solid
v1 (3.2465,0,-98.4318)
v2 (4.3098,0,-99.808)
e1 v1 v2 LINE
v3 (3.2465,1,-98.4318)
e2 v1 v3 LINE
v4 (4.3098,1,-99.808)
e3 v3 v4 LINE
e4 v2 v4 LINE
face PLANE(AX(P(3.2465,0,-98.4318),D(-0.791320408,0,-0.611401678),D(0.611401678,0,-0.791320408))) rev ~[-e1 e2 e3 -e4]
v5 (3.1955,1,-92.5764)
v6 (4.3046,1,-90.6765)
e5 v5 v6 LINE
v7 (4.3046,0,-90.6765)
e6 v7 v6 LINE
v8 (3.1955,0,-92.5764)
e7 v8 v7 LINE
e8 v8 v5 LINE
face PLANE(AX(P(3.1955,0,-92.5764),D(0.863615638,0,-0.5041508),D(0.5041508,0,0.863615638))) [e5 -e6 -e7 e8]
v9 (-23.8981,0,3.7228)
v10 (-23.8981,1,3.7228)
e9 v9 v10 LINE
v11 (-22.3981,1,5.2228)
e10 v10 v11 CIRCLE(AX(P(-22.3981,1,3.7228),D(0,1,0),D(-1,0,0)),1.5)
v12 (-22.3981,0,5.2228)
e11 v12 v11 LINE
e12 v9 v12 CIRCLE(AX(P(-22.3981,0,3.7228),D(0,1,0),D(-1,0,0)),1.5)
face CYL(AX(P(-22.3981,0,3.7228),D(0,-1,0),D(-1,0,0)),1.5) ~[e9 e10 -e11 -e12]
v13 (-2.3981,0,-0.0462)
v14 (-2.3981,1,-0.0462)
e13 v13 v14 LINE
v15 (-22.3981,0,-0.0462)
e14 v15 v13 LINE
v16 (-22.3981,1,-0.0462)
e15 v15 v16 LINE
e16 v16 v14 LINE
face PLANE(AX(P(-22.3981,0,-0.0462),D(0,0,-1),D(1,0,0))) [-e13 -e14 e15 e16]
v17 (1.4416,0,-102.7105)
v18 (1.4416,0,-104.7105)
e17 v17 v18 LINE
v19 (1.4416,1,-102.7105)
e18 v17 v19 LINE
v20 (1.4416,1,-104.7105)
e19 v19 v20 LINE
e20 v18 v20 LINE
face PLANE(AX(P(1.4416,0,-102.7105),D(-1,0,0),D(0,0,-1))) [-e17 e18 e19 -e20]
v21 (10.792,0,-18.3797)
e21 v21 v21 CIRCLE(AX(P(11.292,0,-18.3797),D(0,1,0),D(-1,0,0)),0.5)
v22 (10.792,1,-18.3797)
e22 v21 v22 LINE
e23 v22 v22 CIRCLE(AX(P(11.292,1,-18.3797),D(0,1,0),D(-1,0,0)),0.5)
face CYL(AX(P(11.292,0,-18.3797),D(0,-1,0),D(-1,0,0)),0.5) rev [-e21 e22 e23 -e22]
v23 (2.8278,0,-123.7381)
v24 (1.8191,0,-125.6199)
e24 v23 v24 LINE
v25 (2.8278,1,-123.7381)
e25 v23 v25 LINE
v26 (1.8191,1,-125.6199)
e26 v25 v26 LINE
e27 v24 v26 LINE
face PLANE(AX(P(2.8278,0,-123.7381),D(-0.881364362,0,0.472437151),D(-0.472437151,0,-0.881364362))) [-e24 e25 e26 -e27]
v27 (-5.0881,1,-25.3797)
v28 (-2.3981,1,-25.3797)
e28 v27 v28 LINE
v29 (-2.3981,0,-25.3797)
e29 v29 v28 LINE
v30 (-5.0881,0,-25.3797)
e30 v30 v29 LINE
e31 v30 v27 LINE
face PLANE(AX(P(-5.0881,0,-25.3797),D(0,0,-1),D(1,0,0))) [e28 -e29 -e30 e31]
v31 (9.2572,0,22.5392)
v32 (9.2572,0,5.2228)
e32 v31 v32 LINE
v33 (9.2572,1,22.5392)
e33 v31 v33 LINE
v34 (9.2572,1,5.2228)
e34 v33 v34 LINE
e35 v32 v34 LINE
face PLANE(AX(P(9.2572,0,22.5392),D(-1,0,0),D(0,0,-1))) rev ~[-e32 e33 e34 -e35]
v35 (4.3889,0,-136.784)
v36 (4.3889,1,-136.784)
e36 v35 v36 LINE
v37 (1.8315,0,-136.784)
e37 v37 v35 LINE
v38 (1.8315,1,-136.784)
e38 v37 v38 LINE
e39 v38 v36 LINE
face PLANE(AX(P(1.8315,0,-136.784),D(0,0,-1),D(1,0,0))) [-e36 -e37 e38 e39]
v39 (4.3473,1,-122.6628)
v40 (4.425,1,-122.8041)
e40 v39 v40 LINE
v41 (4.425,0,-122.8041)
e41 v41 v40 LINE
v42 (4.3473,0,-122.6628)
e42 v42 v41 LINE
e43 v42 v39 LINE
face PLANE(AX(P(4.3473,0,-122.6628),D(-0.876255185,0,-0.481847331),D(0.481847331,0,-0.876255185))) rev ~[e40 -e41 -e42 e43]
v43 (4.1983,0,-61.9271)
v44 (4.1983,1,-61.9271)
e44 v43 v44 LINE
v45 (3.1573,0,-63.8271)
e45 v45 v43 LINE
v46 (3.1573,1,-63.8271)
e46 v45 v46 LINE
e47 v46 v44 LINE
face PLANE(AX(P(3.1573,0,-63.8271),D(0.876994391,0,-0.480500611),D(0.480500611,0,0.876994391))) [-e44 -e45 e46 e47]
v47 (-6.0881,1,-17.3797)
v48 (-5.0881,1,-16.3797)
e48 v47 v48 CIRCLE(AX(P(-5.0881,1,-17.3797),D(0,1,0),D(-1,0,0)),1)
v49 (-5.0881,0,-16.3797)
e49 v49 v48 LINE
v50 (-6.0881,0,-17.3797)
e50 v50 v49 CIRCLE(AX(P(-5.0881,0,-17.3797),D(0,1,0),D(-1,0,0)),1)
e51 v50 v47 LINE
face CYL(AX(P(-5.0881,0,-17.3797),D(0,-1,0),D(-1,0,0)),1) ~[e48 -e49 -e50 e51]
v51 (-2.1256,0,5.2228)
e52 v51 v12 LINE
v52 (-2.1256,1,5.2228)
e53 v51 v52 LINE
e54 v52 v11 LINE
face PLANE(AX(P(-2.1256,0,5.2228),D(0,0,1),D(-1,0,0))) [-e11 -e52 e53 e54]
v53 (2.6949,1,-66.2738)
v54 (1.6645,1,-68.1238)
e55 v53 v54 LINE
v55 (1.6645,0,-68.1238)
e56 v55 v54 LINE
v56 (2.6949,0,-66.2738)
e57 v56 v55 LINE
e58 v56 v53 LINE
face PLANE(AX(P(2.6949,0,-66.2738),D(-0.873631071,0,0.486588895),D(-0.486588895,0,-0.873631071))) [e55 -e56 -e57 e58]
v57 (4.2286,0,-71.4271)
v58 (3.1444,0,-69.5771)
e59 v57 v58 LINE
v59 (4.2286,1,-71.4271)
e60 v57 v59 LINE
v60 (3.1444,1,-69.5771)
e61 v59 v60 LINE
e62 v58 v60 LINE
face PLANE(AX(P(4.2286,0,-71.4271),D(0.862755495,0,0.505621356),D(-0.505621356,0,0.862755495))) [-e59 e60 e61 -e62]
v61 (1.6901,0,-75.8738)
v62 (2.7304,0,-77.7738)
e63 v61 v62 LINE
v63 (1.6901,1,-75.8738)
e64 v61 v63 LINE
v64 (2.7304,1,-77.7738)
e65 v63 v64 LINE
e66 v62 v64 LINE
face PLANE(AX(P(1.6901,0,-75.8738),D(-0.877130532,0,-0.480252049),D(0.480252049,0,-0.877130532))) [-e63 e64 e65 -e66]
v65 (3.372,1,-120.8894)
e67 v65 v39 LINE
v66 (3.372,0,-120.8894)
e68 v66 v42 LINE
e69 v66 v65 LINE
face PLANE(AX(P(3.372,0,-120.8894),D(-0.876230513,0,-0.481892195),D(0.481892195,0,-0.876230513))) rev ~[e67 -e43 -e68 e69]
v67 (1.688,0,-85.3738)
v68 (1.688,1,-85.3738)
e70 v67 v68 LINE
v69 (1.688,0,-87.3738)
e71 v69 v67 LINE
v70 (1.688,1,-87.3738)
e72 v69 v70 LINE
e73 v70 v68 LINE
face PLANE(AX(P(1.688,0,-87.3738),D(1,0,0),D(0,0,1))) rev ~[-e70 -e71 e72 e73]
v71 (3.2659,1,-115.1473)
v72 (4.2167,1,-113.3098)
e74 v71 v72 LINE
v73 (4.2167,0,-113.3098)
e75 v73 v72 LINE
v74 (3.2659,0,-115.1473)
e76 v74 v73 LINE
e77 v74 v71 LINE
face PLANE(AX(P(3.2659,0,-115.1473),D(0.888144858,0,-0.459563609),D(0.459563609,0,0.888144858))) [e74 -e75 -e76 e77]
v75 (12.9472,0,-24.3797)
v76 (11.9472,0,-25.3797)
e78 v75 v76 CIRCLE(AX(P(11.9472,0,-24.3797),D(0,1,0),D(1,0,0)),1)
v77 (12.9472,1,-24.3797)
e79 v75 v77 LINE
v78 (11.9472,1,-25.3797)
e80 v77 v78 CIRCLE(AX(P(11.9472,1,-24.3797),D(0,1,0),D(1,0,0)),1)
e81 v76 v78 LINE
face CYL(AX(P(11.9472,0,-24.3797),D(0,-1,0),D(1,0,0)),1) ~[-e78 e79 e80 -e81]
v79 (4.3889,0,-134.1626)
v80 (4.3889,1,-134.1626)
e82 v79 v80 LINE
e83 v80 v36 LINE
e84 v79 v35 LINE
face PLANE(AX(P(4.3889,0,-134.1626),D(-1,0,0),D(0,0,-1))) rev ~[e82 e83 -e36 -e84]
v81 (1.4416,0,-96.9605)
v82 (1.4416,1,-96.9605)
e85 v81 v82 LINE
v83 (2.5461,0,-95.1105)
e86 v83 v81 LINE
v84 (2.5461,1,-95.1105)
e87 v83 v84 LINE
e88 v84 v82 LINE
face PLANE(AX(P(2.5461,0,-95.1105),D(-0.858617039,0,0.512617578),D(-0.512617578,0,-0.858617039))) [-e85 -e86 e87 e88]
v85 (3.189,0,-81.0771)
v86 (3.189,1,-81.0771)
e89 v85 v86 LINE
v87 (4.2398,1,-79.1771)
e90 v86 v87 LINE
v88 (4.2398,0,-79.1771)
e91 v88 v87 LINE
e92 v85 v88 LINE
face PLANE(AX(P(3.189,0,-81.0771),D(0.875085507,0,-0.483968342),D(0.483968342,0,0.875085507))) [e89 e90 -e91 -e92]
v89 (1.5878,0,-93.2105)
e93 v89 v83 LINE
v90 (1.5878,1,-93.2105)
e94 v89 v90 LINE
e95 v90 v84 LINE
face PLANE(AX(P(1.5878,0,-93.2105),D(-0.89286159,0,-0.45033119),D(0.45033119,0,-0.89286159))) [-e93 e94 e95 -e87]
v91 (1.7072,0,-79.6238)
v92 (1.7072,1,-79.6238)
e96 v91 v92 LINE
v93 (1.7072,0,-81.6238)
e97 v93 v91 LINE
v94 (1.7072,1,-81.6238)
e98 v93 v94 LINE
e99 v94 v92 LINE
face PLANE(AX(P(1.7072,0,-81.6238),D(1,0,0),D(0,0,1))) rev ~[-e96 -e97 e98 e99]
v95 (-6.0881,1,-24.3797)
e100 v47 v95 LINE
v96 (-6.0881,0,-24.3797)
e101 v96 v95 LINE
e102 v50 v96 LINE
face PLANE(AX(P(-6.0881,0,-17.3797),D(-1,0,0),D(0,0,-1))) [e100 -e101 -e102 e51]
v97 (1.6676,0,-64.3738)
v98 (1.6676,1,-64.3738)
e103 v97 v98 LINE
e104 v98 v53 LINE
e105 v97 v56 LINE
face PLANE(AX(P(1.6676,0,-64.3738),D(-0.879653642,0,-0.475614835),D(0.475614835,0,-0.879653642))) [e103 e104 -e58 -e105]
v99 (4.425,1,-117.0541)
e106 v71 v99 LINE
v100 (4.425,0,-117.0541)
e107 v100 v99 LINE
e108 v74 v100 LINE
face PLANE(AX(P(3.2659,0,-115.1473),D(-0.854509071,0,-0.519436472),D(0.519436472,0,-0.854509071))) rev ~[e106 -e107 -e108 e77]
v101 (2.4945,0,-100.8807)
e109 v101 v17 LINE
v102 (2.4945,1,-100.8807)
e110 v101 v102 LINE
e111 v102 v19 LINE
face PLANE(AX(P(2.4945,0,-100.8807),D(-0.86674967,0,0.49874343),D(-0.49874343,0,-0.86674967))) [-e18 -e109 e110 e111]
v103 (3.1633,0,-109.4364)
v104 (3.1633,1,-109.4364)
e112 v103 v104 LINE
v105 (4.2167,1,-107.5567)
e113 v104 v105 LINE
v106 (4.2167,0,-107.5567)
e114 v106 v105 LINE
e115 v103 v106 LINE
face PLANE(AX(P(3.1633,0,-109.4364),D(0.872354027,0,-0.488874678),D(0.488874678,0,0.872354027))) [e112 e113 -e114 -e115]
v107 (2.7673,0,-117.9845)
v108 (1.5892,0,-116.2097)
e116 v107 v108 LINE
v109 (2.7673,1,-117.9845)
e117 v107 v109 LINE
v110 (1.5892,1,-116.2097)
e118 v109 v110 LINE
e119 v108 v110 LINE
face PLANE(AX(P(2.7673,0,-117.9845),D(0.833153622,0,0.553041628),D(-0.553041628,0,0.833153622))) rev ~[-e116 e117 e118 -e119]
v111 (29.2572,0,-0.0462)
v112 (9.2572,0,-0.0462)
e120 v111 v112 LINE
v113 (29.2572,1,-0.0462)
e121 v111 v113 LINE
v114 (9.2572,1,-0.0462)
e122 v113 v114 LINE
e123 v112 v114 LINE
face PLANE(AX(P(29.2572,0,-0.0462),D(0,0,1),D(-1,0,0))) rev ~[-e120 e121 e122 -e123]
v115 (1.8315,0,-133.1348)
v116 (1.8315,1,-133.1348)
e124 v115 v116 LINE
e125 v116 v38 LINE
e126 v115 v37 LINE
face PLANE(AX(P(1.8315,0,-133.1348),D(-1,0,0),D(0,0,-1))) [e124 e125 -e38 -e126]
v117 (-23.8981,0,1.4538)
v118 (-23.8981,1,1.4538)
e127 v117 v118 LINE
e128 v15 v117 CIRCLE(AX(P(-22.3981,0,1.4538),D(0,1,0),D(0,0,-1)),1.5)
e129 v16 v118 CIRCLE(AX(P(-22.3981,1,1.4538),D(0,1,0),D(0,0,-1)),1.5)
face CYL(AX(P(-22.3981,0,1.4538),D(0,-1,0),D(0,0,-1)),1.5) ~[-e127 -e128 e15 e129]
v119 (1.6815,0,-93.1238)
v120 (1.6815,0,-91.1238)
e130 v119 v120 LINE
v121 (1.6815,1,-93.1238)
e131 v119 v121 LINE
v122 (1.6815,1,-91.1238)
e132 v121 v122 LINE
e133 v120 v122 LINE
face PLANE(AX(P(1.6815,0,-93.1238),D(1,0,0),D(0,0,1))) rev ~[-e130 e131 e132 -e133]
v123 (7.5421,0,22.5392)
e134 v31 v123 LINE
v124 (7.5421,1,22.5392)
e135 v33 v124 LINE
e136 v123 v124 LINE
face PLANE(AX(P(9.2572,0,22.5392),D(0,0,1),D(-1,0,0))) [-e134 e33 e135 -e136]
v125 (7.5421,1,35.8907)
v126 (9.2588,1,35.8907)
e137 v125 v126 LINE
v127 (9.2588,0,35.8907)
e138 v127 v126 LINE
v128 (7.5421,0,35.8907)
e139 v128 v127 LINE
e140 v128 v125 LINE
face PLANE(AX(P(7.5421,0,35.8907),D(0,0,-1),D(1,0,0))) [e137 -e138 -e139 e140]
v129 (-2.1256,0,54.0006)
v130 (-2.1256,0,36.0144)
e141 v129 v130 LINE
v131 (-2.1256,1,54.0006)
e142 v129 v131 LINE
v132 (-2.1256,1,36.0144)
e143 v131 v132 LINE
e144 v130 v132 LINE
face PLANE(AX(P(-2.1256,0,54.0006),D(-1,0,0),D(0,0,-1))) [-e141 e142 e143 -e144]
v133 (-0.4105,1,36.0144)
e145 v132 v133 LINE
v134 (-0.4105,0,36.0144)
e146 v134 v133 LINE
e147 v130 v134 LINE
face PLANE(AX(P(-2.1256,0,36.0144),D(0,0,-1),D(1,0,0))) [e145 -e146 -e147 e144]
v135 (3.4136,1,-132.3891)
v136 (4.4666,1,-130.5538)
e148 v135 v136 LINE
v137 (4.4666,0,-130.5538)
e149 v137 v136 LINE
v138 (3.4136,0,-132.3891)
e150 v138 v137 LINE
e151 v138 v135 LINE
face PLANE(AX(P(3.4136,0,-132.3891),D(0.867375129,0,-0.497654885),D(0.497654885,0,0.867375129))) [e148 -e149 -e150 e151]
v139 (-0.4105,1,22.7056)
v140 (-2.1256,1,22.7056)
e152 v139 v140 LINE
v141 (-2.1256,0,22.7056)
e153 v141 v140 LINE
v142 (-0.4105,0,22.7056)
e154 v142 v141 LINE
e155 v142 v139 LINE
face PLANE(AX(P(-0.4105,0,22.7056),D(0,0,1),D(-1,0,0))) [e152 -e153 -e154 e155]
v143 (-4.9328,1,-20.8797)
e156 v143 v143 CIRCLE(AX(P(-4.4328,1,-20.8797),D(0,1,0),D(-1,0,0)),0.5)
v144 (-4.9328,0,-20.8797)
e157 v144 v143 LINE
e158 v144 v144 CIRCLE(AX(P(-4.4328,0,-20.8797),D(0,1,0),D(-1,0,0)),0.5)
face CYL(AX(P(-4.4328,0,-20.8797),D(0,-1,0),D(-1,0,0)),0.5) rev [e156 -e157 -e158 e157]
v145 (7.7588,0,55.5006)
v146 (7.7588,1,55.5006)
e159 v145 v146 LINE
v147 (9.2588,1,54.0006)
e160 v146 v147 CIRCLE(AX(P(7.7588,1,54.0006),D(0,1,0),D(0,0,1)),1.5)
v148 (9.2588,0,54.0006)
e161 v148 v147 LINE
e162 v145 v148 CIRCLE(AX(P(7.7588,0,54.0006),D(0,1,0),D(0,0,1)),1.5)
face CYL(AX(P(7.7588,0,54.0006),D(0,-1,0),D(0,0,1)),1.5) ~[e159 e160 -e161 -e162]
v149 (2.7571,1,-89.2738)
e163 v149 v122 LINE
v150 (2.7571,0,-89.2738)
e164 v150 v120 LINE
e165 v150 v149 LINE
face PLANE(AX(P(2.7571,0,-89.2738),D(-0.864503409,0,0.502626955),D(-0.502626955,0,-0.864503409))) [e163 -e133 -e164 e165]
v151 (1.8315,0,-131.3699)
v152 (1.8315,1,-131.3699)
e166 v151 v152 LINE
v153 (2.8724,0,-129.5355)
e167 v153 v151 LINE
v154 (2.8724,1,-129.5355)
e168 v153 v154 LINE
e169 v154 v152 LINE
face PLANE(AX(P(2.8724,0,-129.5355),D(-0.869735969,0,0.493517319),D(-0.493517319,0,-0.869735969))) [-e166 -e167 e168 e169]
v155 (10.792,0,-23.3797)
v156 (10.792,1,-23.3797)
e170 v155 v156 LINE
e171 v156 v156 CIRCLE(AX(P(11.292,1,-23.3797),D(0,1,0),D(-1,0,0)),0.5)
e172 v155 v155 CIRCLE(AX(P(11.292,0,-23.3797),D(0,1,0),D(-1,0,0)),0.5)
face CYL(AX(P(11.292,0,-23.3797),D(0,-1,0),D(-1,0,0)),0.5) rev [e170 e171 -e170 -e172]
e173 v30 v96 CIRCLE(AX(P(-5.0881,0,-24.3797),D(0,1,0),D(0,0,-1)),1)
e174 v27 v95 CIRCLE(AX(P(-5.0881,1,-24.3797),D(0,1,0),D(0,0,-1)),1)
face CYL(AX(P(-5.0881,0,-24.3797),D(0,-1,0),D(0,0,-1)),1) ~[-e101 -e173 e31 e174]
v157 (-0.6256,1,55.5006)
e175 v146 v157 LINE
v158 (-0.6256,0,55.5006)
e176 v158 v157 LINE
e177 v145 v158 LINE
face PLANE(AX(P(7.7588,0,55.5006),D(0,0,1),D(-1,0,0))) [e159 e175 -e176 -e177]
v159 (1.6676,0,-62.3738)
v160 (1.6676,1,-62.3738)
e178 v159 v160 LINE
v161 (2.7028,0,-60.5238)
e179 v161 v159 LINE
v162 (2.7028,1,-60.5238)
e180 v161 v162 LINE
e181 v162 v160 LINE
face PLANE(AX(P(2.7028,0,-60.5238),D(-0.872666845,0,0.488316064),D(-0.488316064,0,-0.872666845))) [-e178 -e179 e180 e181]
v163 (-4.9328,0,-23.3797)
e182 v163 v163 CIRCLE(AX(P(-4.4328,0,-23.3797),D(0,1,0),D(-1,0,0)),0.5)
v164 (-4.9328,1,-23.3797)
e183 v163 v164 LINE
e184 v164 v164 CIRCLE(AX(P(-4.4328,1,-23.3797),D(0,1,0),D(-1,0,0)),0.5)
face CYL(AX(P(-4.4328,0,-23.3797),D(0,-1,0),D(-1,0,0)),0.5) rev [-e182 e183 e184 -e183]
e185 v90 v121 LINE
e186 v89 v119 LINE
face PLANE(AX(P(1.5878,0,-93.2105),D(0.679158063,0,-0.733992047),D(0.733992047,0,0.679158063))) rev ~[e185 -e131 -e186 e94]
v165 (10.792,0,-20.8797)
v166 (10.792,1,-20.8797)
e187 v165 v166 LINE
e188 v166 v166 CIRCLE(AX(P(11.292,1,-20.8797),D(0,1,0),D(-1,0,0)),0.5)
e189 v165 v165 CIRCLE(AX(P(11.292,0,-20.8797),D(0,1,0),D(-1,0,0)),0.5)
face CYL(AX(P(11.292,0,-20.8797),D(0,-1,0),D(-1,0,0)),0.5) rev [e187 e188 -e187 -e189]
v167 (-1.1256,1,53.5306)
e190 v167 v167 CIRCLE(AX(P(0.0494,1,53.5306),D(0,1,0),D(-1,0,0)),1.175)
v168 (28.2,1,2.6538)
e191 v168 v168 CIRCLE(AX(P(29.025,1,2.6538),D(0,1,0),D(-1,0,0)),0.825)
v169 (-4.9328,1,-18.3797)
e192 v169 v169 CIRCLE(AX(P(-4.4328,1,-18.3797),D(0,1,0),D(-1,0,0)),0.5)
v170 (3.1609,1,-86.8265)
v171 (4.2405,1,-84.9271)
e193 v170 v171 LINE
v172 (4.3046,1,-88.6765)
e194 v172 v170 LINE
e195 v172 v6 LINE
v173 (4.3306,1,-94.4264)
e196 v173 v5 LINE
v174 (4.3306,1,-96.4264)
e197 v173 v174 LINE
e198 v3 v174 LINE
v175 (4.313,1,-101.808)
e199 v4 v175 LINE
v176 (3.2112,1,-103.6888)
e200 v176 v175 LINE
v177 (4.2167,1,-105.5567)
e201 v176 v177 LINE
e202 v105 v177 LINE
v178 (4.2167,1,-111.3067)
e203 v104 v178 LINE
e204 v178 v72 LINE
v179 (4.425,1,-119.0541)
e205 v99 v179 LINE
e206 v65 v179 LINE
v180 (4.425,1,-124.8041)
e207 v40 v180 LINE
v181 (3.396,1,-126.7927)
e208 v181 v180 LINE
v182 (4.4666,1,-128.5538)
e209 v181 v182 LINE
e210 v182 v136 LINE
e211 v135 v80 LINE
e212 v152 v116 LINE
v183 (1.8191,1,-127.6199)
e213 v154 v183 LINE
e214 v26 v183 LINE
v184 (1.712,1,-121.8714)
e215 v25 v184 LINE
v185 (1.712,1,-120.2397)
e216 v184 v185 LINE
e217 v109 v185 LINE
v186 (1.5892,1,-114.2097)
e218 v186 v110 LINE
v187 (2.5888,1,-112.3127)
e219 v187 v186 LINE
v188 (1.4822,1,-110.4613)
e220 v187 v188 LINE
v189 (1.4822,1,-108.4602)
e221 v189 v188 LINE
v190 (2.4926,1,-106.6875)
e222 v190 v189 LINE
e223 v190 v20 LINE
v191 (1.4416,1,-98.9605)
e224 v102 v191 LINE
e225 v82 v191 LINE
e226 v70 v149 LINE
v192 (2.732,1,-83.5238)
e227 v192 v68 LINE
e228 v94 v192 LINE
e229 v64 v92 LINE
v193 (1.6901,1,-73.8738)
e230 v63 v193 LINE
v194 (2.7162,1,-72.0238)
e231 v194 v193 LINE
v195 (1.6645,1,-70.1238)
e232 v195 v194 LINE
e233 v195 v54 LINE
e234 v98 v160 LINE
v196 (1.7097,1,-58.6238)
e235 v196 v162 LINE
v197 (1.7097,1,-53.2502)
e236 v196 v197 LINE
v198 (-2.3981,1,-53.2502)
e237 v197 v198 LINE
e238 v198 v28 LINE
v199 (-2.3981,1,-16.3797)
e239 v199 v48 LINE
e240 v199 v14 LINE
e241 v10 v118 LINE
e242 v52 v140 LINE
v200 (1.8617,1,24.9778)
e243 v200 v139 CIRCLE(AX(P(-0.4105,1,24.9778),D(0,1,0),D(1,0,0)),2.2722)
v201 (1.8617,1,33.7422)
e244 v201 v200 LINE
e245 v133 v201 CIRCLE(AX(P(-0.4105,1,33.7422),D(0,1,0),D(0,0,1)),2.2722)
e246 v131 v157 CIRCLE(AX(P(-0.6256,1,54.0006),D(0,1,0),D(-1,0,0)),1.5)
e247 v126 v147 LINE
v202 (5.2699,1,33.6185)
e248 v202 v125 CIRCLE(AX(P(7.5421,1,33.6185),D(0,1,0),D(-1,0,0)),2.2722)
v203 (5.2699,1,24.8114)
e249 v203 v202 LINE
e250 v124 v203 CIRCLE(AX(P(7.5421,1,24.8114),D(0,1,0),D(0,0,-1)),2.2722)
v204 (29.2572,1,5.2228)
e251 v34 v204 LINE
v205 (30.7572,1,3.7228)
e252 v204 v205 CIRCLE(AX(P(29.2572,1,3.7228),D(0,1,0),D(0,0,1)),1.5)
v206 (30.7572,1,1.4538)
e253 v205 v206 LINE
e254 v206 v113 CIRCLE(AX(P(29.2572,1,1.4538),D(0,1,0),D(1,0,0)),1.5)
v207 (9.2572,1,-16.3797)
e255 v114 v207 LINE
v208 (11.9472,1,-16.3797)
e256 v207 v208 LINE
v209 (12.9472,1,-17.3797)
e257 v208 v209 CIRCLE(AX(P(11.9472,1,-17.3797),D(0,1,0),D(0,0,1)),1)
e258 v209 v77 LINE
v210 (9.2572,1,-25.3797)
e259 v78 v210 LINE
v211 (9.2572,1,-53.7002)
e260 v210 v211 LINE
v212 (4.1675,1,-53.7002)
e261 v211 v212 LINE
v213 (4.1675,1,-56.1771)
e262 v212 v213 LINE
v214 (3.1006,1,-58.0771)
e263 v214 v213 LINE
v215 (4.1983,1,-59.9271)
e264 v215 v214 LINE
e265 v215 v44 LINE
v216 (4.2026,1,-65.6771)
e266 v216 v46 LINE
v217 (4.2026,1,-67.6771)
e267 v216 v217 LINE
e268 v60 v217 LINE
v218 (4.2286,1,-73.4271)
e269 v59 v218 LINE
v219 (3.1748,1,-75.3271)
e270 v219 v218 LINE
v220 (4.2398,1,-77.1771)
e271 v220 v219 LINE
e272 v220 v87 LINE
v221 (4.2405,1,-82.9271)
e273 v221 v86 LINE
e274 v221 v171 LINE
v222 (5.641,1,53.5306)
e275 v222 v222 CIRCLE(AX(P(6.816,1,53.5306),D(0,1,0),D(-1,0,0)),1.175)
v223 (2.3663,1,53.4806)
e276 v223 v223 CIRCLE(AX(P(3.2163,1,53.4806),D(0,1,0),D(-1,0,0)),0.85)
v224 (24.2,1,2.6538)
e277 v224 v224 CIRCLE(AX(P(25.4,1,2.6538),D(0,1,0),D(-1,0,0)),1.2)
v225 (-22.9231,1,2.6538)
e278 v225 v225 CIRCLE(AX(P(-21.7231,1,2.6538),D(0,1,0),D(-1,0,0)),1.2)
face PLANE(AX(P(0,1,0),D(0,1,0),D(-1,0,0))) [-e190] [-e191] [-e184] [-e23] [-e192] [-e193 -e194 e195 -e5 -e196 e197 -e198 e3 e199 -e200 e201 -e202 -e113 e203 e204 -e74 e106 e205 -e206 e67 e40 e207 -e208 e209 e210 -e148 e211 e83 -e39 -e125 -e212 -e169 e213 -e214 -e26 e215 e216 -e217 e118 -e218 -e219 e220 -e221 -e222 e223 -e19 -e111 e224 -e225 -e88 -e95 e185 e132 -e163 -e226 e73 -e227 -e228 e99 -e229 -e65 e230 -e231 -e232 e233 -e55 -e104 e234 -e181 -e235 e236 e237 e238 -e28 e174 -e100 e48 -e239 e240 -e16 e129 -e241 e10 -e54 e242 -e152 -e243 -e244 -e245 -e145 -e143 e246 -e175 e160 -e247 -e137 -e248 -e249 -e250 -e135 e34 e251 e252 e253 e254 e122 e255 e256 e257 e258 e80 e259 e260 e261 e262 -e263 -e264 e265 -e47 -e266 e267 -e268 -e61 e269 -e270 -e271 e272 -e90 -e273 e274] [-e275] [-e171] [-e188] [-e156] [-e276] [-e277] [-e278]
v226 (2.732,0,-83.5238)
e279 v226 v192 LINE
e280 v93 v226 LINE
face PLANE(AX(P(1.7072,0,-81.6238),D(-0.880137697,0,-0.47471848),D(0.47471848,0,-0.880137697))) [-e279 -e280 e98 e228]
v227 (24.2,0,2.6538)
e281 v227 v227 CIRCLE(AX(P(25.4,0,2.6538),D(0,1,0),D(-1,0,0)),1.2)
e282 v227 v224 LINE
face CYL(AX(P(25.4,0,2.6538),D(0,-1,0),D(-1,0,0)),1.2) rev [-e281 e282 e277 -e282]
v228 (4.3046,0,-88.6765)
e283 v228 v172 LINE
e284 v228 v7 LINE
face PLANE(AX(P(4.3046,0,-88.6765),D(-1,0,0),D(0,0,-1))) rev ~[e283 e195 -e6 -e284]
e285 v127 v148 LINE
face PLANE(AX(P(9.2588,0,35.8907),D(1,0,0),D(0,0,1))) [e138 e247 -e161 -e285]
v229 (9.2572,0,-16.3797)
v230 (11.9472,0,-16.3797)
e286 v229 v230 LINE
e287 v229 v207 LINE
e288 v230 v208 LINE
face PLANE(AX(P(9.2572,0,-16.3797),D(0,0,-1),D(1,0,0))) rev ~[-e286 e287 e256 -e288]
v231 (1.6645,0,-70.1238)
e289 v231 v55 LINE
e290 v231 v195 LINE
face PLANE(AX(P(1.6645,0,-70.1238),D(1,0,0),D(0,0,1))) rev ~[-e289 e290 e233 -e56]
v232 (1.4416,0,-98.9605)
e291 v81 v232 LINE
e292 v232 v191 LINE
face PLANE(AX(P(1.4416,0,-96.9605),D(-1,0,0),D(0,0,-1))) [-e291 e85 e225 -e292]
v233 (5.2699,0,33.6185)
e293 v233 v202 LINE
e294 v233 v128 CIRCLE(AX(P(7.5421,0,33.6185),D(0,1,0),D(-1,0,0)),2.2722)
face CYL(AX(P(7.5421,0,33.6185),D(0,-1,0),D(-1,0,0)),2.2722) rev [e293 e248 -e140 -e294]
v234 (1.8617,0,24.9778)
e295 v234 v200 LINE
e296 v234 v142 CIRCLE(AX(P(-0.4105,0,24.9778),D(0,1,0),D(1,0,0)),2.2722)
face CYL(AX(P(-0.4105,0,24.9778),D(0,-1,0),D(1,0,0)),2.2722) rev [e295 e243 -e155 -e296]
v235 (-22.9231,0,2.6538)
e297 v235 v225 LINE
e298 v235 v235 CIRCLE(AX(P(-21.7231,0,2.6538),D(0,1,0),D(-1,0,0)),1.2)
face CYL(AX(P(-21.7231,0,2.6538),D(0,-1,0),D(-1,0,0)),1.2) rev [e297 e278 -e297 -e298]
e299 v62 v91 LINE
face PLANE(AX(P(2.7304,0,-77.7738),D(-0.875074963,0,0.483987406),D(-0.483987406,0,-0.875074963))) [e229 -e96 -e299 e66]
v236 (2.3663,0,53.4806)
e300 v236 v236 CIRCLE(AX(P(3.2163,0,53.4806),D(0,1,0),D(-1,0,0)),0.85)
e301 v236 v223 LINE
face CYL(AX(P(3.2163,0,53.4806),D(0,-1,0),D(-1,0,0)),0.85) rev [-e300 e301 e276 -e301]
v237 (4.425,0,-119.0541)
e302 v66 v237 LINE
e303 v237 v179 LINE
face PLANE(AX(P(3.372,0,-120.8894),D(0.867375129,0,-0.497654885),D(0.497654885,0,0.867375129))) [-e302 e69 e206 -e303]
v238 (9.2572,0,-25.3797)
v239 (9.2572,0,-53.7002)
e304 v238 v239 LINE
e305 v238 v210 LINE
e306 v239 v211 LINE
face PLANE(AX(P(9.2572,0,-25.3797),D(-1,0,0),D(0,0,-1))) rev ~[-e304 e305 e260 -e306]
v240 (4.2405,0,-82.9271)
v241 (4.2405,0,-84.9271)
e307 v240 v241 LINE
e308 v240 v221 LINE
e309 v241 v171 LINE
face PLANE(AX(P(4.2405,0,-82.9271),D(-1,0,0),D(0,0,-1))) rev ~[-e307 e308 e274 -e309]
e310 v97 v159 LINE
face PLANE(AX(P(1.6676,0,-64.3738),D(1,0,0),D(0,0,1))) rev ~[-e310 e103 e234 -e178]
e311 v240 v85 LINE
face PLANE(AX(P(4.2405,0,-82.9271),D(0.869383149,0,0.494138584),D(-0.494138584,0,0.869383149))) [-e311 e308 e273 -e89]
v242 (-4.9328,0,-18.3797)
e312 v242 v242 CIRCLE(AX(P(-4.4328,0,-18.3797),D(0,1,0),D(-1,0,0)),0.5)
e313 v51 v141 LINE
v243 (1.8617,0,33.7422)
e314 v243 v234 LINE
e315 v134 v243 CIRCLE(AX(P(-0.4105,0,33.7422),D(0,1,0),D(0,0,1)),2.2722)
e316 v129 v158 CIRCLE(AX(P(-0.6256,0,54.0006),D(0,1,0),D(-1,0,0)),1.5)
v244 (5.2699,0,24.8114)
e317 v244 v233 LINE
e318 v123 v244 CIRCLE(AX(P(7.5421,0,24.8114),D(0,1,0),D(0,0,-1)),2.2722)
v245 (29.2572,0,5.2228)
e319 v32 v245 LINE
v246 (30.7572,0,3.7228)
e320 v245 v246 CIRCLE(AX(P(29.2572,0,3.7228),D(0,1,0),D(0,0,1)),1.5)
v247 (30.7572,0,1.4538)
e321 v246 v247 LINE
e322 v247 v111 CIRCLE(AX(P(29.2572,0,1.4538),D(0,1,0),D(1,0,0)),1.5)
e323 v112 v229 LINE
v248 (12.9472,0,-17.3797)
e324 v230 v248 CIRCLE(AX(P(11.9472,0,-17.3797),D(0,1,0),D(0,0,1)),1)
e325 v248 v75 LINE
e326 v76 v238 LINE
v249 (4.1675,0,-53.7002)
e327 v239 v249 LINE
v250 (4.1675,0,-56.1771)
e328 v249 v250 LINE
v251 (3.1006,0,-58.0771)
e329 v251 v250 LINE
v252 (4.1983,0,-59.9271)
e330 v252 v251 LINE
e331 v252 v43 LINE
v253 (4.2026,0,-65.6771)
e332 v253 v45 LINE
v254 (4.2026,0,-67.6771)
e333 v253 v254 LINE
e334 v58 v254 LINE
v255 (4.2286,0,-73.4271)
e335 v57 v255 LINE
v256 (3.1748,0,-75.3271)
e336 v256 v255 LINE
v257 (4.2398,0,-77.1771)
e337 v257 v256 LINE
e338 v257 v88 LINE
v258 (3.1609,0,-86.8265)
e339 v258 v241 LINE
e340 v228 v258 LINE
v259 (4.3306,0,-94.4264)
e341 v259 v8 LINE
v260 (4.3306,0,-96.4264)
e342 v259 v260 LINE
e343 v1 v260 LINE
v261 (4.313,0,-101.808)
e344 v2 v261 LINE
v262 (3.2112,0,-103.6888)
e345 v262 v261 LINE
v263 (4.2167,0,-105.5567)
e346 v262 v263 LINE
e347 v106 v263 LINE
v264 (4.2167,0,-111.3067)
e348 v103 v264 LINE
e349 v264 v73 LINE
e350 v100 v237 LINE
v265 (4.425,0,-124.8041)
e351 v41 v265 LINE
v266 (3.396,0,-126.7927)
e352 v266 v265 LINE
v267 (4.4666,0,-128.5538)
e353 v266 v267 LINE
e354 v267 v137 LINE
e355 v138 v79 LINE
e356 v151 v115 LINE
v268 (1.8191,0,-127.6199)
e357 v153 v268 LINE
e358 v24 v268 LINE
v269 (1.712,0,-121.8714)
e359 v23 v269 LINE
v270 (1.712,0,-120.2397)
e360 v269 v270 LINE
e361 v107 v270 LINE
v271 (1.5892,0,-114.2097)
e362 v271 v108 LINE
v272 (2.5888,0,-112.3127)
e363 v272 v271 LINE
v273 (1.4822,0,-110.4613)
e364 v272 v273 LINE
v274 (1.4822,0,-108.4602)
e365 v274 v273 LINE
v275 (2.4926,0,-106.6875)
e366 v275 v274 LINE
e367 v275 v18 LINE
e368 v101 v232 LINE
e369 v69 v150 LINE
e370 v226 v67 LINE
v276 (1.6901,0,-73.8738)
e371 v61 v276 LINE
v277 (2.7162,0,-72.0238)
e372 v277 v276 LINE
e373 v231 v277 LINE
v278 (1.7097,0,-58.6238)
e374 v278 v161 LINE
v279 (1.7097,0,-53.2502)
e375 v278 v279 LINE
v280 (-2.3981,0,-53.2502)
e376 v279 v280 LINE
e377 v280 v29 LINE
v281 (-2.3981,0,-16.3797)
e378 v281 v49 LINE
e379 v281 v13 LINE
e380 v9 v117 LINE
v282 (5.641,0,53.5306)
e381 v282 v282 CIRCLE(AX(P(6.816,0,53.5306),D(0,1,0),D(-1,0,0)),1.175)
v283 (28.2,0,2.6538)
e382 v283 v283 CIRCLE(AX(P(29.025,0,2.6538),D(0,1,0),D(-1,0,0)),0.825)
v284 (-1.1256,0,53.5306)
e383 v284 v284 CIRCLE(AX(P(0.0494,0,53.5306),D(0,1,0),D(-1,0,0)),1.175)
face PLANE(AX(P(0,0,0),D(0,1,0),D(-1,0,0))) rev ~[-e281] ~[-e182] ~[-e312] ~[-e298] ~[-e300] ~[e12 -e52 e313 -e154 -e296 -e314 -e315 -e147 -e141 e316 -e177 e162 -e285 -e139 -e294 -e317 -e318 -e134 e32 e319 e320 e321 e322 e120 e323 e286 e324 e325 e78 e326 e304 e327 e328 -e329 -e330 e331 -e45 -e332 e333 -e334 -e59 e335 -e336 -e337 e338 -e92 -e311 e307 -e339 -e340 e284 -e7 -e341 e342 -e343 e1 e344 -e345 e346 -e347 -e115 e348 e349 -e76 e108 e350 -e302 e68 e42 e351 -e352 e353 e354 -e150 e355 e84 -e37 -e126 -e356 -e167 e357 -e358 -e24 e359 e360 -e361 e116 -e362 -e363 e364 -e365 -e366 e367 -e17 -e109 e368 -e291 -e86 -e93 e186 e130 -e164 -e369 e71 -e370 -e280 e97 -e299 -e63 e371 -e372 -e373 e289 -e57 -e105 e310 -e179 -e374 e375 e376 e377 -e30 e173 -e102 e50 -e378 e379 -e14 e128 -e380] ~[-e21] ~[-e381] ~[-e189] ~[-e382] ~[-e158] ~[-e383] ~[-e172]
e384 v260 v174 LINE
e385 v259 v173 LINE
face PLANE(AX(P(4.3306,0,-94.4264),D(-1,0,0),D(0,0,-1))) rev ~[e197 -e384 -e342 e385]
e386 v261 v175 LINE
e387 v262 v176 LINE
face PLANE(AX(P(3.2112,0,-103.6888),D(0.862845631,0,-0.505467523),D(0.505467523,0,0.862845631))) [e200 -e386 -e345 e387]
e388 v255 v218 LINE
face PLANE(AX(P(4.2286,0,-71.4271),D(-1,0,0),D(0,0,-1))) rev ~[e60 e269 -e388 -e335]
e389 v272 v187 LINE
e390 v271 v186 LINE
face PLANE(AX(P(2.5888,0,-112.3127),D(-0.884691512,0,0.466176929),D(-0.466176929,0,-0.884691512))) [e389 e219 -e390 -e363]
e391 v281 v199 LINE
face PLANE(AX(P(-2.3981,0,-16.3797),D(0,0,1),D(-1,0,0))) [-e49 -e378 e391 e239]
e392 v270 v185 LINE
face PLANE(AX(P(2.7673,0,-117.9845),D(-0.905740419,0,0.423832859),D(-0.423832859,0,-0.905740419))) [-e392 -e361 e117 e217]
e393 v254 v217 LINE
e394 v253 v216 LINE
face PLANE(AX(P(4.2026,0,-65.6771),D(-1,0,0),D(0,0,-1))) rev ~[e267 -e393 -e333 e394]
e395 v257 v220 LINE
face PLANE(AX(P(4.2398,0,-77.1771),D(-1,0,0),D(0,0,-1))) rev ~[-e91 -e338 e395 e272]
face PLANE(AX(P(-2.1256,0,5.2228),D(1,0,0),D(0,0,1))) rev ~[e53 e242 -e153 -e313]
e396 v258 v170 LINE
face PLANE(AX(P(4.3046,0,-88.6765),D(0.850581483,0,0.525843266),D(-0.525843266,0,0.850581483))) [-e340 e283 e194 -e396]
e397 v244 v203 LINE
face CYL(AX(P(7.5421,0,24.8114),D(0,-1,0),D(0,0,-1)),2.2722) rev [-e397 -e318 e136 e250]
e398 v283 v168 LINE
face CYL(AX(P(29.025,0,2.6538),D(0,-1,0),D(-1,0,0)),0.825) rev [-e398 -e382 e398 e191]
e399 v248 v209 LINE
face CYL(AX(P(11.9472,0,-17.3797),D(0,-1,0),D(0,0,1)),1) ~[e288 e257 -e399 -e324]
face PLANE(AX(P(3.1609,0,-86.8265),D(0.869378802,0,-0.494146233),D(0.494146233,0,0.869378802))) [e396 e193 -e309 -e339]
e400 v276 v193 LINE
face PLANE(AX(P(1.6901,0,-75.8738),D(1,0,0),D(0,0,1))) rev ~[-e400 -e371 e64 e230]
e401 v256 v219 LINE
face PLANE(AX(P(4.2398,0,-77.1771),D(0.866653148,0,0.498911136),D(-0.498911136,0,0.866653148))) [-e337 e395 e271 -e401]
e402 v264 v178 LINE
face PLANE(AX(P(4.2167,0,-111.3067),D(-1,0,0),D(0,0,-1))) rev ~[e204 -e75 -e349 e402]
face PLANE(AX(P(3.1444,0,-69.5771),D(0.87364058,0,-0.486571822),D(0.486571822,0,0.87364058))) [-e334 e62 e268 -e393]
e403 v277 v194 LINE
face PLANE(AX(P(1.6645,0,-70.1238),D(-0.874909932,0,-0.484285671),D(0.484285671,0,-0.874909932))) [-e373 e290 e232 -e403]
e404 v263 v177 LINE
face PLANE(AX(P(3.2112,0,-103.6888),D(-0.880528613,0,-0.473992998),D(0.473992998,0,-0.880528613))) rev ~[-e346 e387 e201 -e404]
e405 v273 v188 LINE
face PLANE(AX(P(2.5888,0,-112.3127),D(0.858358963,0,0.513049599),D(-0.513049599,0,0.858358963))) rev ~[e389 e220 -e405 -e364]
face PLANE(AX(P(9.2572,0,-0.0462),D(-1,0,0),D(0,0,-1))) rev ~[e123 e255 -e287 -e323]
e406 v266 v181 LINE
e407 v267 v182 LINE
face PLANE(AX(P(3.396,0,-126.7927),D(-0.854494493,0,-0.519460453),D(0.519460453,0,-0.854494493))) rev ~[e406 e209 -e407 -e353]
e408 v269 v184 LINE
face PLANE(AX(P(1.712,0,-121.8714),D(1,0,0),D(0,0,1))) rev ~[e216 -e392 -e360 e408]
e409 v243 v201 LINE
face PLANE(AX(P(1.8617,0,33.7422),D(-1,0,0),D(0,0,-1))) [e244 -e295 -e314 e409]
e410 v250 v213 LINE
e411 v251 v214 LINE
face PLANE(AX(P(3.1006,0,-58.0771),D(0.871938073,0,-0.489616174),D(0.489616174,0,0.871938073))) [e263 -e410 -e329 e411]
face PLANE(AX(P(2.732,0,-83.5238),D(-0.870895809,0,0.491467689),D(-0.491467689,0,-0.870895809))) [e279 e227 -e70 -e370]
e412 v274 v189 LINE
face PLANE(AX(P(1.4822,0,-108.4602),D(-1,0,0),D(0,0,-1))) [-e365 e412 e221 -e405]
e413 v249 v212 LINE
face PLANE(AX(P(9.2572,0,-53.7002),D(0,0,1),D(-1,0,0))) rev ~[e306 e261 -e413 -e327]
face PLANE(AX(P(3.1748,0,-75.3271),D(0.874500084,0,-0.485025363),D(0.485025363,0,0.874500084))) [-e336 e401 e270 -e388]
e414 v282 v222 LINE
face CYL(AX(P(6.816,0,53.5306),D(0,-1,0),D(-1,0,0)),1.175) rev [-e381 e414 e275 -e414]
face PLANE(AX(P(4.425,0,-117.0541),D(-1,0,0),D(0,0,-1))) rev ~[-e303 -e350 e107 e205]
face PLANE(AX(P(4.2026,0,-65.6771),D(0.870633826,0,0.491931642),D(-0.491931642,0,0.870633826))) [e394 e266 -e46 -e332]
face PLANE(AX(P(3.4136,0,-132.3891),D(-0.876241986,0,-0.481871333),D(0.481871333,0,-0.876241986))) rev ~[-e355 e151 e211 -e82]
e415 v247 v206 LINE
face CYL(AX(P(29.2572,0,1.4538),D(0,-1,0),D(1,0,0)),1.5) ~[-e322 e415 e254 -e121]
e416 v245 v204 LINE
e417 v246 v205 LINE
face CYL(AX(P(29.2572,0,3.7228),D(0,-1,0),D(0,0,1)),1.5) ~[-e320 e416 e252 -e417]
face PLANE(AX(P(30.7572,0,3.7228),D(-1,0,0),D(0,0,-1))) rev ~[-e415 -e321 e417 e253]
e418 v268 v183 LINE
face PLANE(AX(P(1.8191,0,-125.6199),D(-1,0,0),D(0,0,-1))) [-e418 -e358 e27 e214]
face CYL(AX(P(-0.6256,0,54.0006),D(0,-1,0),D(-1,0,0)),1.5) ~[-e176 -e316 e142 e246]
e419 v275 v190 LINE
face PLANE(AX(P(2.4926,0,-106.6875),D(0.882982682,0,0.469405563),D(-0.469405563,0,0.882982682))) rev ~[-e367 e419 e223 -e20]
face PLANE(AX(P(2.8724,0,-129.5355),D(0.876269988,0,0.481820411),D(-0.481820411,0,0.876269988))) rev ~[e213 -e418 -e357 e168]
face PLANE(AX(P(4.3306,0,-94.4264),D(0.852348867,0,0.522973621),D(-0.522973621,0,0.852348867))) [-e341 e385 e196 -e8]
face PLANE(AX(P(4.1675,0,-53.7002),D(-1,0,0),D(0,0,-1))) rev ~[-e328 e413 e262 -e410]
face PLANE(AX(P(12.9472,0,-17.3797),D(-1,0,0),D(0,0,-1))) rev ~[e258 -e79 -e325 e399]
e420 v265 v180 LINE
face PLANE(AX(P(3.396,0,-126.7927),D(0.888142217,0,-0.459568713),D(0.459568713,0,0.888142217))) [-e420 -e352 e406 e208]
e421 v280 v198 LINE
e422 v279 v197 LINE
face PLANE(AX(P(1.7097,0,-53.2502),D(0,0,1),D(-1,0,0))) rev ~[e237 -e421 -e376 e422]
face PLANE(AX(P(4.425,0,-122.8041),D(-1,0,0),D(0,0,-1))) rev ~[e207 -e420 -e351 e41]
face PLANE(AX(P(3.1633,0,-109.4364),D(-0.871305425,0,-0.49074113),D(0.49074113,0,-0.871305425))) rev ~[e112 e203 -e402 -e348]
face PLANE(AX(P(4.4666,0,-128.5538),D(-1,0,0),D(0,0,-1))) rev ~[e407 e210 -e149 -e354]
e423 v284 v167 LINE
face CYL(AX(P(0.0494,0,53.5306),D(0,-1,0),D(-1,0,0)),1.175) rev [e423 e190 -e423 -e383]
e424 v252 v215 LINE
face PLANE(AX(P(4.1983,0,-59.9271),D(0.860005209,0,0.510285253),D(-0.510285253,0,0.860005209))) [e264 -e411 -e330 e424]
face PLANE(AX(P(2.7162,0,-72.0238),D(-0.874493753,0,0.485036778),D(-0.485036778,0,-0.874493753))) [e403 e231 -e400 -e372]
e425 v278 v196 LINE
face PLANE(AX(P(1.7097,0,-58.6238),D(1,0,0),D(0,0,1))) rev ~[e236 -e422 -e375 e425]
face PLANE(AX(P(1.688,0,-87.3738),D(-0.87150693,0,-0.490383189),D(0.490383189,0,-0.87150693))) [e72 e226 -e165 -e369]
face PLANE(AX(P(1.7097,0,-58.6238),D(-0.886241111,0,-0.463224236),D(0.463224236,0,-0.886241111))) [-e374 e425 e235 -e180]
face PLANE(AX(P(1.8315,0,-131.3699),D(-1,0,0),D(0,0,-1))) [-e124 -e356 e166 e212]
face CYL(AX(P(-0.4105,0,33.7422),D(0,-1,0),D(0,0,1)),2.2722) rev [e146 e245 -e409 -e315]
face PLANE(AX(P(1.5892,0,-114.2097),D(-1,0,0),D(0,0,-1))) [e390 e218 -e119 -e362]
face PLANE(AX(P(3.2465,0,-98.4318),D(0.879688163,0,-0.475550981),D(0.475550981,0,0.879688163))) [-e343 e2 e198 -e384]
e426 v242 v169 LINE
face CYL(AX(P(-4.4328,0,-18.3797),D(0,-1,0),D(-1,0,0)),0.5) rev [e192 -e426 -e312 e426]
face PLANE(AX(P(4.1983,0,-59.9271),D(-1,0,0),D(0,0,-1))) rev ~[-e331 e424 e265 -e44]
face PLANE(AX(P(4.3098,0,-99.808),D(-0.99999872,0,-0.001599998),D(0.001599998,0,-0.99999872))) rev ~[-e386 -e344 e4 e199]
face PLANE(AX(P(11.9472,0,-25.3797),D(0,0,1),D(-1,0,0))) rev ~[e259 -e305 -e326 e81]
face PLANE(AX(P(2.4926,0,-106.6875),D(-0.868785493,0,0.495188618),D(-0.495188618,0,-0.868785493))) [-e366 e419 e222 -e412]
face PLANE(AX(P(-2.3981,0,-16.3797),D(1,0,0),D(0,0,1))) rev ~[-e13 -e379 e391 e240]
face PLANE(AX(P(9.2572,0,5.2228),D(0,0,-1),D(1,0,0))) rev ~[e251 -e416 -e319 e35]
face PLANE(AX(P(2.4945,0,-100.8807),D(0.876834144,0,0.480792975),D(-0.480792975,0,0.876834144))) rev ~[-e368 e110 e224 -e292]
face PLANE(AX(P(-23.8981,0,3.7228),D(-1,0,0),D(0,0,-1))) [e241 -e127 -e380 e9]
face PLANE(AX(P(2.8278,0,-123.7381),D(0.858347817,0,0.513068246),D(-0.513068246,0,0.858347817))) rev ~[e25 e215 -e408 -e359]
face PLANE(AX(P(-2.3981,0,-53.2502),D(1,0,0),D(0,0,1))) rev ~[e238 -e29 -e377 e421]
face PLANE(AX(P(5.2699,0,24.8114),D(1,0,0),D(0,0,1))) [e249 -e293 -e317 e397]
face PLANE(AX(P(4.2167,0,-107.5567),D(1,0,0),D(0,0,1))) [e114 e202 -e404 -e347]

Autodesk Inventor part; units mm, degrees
ref_plane "YZ Plane" through (0, 0, 0) normal (1, 0, 0) x (0, 1, 0)
ref_plane "XZ Plane" through (0, 0, 0) normal (0, 1, 0) x (-1, 0, 0)
ref_plane "XY Plane" through (0, 0, 0) normal (0, 0, 1) x (1, 0, 0)
sketch "Sketch1" plane through (0, 0, 0) normal (0, 1, 0) x (-1, 0, 0)
  line L0 (-9.2572, 22.5392) -> (-9.2572, 5.2228)
  line L1 (-9.2588, 35.8907) -> (-9.2588, 54.0006)
  line L2 (-7.7588, 55.5006) -> (0.6256, 55.5006)
  line L3 (2.1256, 54.0006) -> (2.1256, 36.0144)
  circle A0 centre (-0.0494, 53.5306) radius 1.175
  circle A1 centre (-6.816, 53.5306) radius 1.175
  line L4 (-9.2572, 22.5392) -> (-7.5421, 22.5392)
  line L5 (-5.2699, 24.8114) -> (-5.2699, 33.6185)
  line L6 (-7.5421, 35.8907) -> (-9.2588, 35.8907)
  line L7 (2.1256, 36.0144) -> (0.4105, 36.0144)
  line L8 (-1.8617, 33.7422) -> (-1.8617, 24.9778)
  line L9 (0.4105, 22.7056) -> (2.1256, 22.7056)
  arc A2 (0.4105, 36.0144) -> (-1.8617, 33.7422) centre (0.4105, 33.7422) ccw
  arc A3 (-1.8617, 24.9778) -> (0.4105, 22.7056) centre (0.4105, 24.9778) ccw
  arc A4 (-7.5421, 22.5392) -> (-5.2699, 24.8114) centre (-7.5421, 24.8114) ccw
  arc A5 (-5.2699, 33.6185) -> (-7.5421, 35.8907) centre (-7.5421, 33.6185) ccw
  line L10 (2.1256, 5.2228) -> (22.3981, 5.2228)
  line L11 (23.8981, 3.7228) -> (23.8981, 1.4538)
  line L12 (22.3981, -0.0462) -> (2.3981, -0.0462)
  line L13 (-9.2572, 5.2228) -> (-29.2572, 5.2228)
  line L14 (-30.7572, 3.7228) -> (-30.7572, 1.4538)
  line L15 (-29.2572, -0.0462) -> (-9.2572, -0.0462)
  line L16 (2.3981, -16.3797) -> (5.0881, -16.3797)
  line L17 (6.0881, -17.3797) -> (6.0881, -24.3797)
  line L18 (5.0881, -25.3797) -> (2.3981, -25.3797)
  line L19 (-9.2572, -16.3797) -> (-11.9472, -16.3797)
  line L20 (-12.9472, -17.3797) -> (-12.9472, -24.3797)
  line L21 (-11.9472, -25.3797) -> (-9.2572, -25.3797)
  circle A6 centre (-3.2163, 53.4806) radius 0.85
  circle A7 centre (-25.4, 2.6538) radius 1.2
  circle A8 centre (-29.025, 2.6538) radius 0.825
  circle A9 centre (21.7231, 2.6538) radius 1.2
  line L22 (-9.2572, -0.0462) -> (-9.2572, -16.3797)
  line L23 (2.1256, 5.2228) -> (2.1256, 22.7056)
  line L24 (2.3981, -16.3797) -> (2.3981, -0.0462)
  arc A10 (2.1256, 54.0006) -> (0.6256, 55.5006) centre (0.6256, 54.0006) ccw
  arc A11 (-7.7588, 55.5006) -> (-9.2588, 54.0006) centre (-7.7588, 54.0006) ccw
  arc A12 (22.3981, -0.0462) -> (23.8981, 1.4538) centre (22.3981, 1.4538) ccw
  arc A13 (23.8981, 3.7228) -> (22.3981, 5.2228) centre (22.3981, 3.7228) ccw
  arc A14 (-30.7572, 1.4538) -> (-29.2572, -0.0462) centre (-29.2572, 1.4538) ccw
  arc A15 (-29.2572, 5.2228) -> (-30.7572, 3.7228) centre (-29.2572, 3.7228) ccw
  line L25 (-3.1006, -58.0771) -> (-4.1675, -56.1771)
  line L26 (-3.1006, -58.0771) -> (-0.5618, -58.1074) construction
  line L27 (-4.1983, -59.9271) -> (-3.1006, -58.0771)
  line L28 (-3.1573, -63.8271) -> (-4.1983, -61.9271)
  line L29 (-4.2026, -65.6771) -> (-3.1573, -63.8271)
  line L30 (-3.1444, -69.5771) -> (-4.2026, -67.6771)
  line L31 (-4.2286, -71.4271) -> (-3.1444, -69.5771)
  line L32 (-3.1748, -75.3271) -> (-4.2286, -73.4271)
  line L33 (-4.2398, -77.1771) -> (-3.1748, -75.3271)
  line L34 (-3.189, -81.0771) -> (-4.2398, -79.1771)
  line L35 (-4.2405, -82.9271) -> (-3.189, -81.0771)
  line L36 (-3.1609, -86.8265) -> (-4.2405, -84.9271)
  line L37 (-4.3046, -88.6765) -> (-3.1609, -86.8265)
  line L38 (-3.1955, -92.5764) -> (-4.3046, -90.6765)
  line L39 (-4.3306, -94.4264) -> (-3.1955, -92.5764)
  line L40 (-3.2465, -98.4318) -> (-4.3306, -96.4264)
  line L41 (-2.7028, -60.5238) -> (-1.6676, -62.3738)
  line L42 (-1.7097, -58.6238) -> (-2.7028, -60.5238)
  line L43 (-2.6949, -66.2738) -> (-1.6645, -68.1238)
  line L44 (-1.6676, -64.3738) -> (-2.6949, -66.2738)
  line L45 (-2.7162, -72.0238) -> (-1.6901, -73.8738)
  line L46 (-1.6645, -70.1238) -> (-2.7162, -72.0238)
  line L47 (-2.7304, -77.7738) -> (-1.7072, -79.6238)
  line L48 (-1.6901, -75.8738) -> (-2.7304, -77.7738)
  line L49 (-2.732, -83.5238) -> (-1.688, -85.3738)
  line L50 (-1.7072, -81.6238) -> (-2.732, -83.5238)
  line L51 (-2.7571, -89.2738) -> (-1.6815, -91.1238)
  line L52 (-1.688, -87.3738) -> (-2.7571, -89.2738)
  line L53 (-2.5461, -95.1105) -> (-1.4416, -96.9605)
  line L54 (-1.5878, -93.2105) -> (-2.5461, -95.1105)
  line L55 (-1.5878, -93.2105) -> (-1.6815, -93.1238)
  line L56 (-4.3046, -88.6765) -> (-4.3046, -90.6765)
  line L57 (-4.3306, -94.4264) -> (-4.3306, -96.4264)
  line L58 (-4.2398, -77.1771) -> (-4.2398, -79.1771)
  line L59 (-4.2405, -82.9271) -> (-4.2405, -84.9271)
  line L60 (-4.1675, -53.7002) -> (-4.1675, -56.1771)
  line L61 (-4.1983, -59.9271) -> (-4.1983, -61.9271)
  line L62 (-4.2026, -65.6771) -> (-4.2026, -67.6771)
  line L63 (-4.2286, -71.4271) -> (-4.2286, -73.4271)
  line L64 (-1.6676, -64.3738) -> (-1.6676, -62.3738)
  line L65 (-1.6645, -70.1238) -> (-1.6645, -68.1238)
  line L66 (-1.6901, -75.8738) -> (-1.6901, -73.8738)
  line L67 (-1.7072, -81.6238) -> (-1.7072, -79.6238)
  line L68 (-1.6815, -93.1238) -> (-1.6815, -91.1238)
  line L69 (-1.688, -87.3738) -> (-1.688, -85.3738)
  line L70 (-3.372, -120.8894) -> (-4.3473, -122.6628)
  line L71 (-3.372, -120.8894) -> (-4.425, -119.0541)
  line L72 (-3.2465, -98.4318) -> (-4.3098, -99.808)
  line L73 (-3.2659, -115.1473) -> (-4.425, -117.0541)
  line L74 (-3.2659, -115.1473) -> (-4.2167, -113.3098)
  line L75 (-3.1633, -109.4364) -> (-4.2167, -111.3067)
  line L76 (-3.1633, -109.4364) -> (-4.2167, -107.5567)
  line L77 (-3.2112, -103.6888) -> (-4.2167, -105.5567)
  line L78 (-3.2112, -103.6888) -> (-4.313, -101.808)
  line L79 (-2.4945, -100.8807) -> (-1.4416, -98.9605)
  line L80 (-2.4945, -100.8807) -> (-1.4416, -102.7105)
  line L81 (-2.4926, -106.6875) -> (-1.4822, -108.4602)
  line L82 (-2.4926, -106.6875) -> (-1.4416, -104.7105)
  line L83 (-2.5888, -112.3127) -> (-1.5892, -114.2097)
  line L84 (-2.5888, -112.3127) -> (-1.4822, -110.4613)
  line L85 (-2.7673, -117.9845) -> (-1.712, -120.2397)
  line L86 (-2.7673, -117.9845) -> (-1.5892, -116.2097)
  line L87 (-4.3098, -99.808) -> (-4.313, -101.808)
  line L88 (-1.4416, -96.9605) -> (-1.4416, -98.9605)
  line L89 (-1.4416, -102.7105) -> (-1.4416, -104.7105)
  line L90 (-1.4822, -108.4602) -> (-1.4822, -110.4613)
  line L91 (-4.2167, -107.5567) -> (-4.2167, -105.5567)
  line L92 (-4.2167, -111.3067) -> (-4.2167, -113.3098)
  line L93 (-1.5892, -114.2097) -> (-1.5892, -116.2097)
  line L94 (-4.425, -117.0541) -> (-4.425, -119.0541)
  line L95 (2.3981, -53.2502) -> (2.3981, -25.3797)
  line L96 (-9.2572, -25.3797) -> (-9.2572, -53.7002)
  line L97 (-9.2572, -53.7002) -> (-4.1675, -53.7002)
  circle A16 centre (-11.292, -23.3797) radius 0.5
  circle A17 centre (-11.292, -18.3797) radius 0.5
  circle A18 centre (-11.292, -20.8797) radius 0.5
  circle A19 centre (4.4328, -18.3797) radius 0.5
  circle A20 centre (4.4328, -20.8797) radius 0.5
  circle A21 centre (4.4328, -23.3797) radius 0.5
  line L98 (-4.3473, -122.6628) -> (-4.425, -122.8041)
  line L99 (-3.4136, -132.3891) -> (-4.3889, -134.1626)
  line L100 (-3.4136, -132.3891) -> (-4.4666, -130.5538)
  line L101 (-3.396, -126.7927) -> (-4.425, -124.8041)
  line L102 (-3.396, -126.7927) -> (-4.4666, -128.5538)
  line L103 (-2.8724, -129.5355) -> (-1.8315, -131.3699)
  line L104 (-2.8724, -129.5355) -> (-1.8191, -127.6199)
  line L105 (-2.8278, -123.7381) -> (-1.712, -121.8714)
  line L106 (-2.8278, -123.7381) -> (-1.8191, -125.6199)
  line L107 (-4.425, -122.8041) -> (-4.425, -124.8041)
  line L108 (-1.8191, -125.6199) -> (-1.8191, -127.6199)
  line L109 (-4.4666, -128.5538) -> (-4.4666, -130.5538)
  line L110 (-1.712, -121.8714) -> (-1.712, -120.2397)
  line L111 (-1.8315, -131.3699) -> (-1.8315, -133.1348)
  line L112 (-1.8315, -133.1348) -> (-1.8315, -136.784)
  line L113 (-4.3889, -134.1626) -> (-4.3889, -136.784)
  line L114 (-1.8315, -136.784) -> (-4.3889, -136.784)
  line L115 (-1.7097, -58.6238) -> (-1.7097, -53.2502)
  line L116 (-1.7097, -53.2502) -> (2.3981, -53.2502)
  arc A22 (5.0881, -25.3797) -> (6.0881, -24.3797) centre (5.0881, -24.3797) ccw
  arc A23 (6.0881, -17.3797) -> (5.0881, -16.3797) centre (5.0881, -17.3797) ccw
  arc A24 (-11.9472, -16.3797) -> (-12.9472, -17.3797) centre (-11.9472, -17.3797) ccw
  arc A25 (-12.9472, -24.3797) -> (-11.9472, -25.3797) centre (-11.9472, -24.3797) ccw
  point P0 (-9.2588, 55.5006)
  point P1 (2.1256, 55.5006)
  point P2 (-6.9279, 18.3671)
  point P3 (-6.9323, 25.0551)
  point P4 (23.8981, -0.0462)
  point P5 (23.8981, 5.2228)
  point P6 (-30.7572, -0.0462)
  point P7 (-30.7572, 5.2228)
  point P8 (6.0881, -25.3797)
  point P9 (6.0881, -16.3797)
  point P10 (-12.9472, -25.3797)
  point P11 (-12.9472, -16.3797)
  point P12 (-4.1675, 717.4283)
  point P13 (-3.6778, -62.8771)
  point P14 (-3.7007, -85.8768)
  point P15 (-3.75, -91.6265)
  point P16 (-1.9939, -96.0355)
  point P17 (-3.68, -64.7521)
  point P18 (-9.2572, 13.881)
  point P19 (-9.2572, -8.2129)
  point P20 (-10.6022, -25.3797)
  point P21 (3.7431, -25.3797)
  point P22 (3.7431, -16.3797)
  dimension "d276" = 2.4
  dimension "d277" = 2.4
  dimension "d280" = 1.5
  dimension "d281" = 2.35
  dimension "d282" = 2.35
  dimension "d284" = 1.65
  dimension "d286" = 1.7
  dimension "d288" = 0.795
  dimension "d289" = 0.795
  dimension "d290" = 1.17
  dimension "d291" = 1.6
  dimension "d292" = 1.575
  dimension "d293" = 1.5
  dimension "d294" = 1.5
  dimension "d296" = 0.975
  dimension "d297" = 2.175
  dimension "d304" = 120
  dimension "d305" = 120
  dimension "d316" = 2
  dimension "d317" = 2
  dimension "d318" = 2
  dimension "d319" = 2
  dimension "d320" = 2
  dimension "d321" = 2
  dimension "d322" = 2
  dimension "d323" = 2
  dimension "d324" = 2
  dimension "d325" = 2
  dimension "d326" = 2
  dimension "d327" = 2
  dimension "d329" = 2
  dimension "d330" = 2
  dimension "d331" = 2
  dimension "d332" = 2.0032
  dimension "d333" = 2
  dimension "d334" = 2
  dimension "d338" = 3.75
  dimension "d339" = 3.75
  dimension "d340" = 3.75
  dimension "d341" = 3.75
  dimension "d342" = 3.75
  dimension "d343" = 3.75
  dimension "d344" = 3.75
  dimension "d345" = 3.75
  dimension "d346" = 3.75
  dimension "d347" = 3.75
  dimension "d348" = 3.75
  dimension "d349" = 3.75
  dimension "d350" = 3.75
  dimension "d351" = 3.75
  dimension "d352" = 1.85
  dimension "d353" = 1.85
  dimension "d354" = 1.85
  dimension "d355" = 1.85
  dimension "d356" = 1.85
  dimension "d357" = 1.85
  dimension "d358" = 1.85
  dimension "d359" = 1.85
  dimension "d360" = 1.85
  dimension "d361" = 1.85
  dimension "d362" = 1.85
  dimension "d363" = 1.85
  dimension "d364" = 1.85
  dimension "d365" = 1.85
extrude "Extrusion8" add sketch "Sketch1" along normal blind 1
properties part number "Middle Finger Part"
